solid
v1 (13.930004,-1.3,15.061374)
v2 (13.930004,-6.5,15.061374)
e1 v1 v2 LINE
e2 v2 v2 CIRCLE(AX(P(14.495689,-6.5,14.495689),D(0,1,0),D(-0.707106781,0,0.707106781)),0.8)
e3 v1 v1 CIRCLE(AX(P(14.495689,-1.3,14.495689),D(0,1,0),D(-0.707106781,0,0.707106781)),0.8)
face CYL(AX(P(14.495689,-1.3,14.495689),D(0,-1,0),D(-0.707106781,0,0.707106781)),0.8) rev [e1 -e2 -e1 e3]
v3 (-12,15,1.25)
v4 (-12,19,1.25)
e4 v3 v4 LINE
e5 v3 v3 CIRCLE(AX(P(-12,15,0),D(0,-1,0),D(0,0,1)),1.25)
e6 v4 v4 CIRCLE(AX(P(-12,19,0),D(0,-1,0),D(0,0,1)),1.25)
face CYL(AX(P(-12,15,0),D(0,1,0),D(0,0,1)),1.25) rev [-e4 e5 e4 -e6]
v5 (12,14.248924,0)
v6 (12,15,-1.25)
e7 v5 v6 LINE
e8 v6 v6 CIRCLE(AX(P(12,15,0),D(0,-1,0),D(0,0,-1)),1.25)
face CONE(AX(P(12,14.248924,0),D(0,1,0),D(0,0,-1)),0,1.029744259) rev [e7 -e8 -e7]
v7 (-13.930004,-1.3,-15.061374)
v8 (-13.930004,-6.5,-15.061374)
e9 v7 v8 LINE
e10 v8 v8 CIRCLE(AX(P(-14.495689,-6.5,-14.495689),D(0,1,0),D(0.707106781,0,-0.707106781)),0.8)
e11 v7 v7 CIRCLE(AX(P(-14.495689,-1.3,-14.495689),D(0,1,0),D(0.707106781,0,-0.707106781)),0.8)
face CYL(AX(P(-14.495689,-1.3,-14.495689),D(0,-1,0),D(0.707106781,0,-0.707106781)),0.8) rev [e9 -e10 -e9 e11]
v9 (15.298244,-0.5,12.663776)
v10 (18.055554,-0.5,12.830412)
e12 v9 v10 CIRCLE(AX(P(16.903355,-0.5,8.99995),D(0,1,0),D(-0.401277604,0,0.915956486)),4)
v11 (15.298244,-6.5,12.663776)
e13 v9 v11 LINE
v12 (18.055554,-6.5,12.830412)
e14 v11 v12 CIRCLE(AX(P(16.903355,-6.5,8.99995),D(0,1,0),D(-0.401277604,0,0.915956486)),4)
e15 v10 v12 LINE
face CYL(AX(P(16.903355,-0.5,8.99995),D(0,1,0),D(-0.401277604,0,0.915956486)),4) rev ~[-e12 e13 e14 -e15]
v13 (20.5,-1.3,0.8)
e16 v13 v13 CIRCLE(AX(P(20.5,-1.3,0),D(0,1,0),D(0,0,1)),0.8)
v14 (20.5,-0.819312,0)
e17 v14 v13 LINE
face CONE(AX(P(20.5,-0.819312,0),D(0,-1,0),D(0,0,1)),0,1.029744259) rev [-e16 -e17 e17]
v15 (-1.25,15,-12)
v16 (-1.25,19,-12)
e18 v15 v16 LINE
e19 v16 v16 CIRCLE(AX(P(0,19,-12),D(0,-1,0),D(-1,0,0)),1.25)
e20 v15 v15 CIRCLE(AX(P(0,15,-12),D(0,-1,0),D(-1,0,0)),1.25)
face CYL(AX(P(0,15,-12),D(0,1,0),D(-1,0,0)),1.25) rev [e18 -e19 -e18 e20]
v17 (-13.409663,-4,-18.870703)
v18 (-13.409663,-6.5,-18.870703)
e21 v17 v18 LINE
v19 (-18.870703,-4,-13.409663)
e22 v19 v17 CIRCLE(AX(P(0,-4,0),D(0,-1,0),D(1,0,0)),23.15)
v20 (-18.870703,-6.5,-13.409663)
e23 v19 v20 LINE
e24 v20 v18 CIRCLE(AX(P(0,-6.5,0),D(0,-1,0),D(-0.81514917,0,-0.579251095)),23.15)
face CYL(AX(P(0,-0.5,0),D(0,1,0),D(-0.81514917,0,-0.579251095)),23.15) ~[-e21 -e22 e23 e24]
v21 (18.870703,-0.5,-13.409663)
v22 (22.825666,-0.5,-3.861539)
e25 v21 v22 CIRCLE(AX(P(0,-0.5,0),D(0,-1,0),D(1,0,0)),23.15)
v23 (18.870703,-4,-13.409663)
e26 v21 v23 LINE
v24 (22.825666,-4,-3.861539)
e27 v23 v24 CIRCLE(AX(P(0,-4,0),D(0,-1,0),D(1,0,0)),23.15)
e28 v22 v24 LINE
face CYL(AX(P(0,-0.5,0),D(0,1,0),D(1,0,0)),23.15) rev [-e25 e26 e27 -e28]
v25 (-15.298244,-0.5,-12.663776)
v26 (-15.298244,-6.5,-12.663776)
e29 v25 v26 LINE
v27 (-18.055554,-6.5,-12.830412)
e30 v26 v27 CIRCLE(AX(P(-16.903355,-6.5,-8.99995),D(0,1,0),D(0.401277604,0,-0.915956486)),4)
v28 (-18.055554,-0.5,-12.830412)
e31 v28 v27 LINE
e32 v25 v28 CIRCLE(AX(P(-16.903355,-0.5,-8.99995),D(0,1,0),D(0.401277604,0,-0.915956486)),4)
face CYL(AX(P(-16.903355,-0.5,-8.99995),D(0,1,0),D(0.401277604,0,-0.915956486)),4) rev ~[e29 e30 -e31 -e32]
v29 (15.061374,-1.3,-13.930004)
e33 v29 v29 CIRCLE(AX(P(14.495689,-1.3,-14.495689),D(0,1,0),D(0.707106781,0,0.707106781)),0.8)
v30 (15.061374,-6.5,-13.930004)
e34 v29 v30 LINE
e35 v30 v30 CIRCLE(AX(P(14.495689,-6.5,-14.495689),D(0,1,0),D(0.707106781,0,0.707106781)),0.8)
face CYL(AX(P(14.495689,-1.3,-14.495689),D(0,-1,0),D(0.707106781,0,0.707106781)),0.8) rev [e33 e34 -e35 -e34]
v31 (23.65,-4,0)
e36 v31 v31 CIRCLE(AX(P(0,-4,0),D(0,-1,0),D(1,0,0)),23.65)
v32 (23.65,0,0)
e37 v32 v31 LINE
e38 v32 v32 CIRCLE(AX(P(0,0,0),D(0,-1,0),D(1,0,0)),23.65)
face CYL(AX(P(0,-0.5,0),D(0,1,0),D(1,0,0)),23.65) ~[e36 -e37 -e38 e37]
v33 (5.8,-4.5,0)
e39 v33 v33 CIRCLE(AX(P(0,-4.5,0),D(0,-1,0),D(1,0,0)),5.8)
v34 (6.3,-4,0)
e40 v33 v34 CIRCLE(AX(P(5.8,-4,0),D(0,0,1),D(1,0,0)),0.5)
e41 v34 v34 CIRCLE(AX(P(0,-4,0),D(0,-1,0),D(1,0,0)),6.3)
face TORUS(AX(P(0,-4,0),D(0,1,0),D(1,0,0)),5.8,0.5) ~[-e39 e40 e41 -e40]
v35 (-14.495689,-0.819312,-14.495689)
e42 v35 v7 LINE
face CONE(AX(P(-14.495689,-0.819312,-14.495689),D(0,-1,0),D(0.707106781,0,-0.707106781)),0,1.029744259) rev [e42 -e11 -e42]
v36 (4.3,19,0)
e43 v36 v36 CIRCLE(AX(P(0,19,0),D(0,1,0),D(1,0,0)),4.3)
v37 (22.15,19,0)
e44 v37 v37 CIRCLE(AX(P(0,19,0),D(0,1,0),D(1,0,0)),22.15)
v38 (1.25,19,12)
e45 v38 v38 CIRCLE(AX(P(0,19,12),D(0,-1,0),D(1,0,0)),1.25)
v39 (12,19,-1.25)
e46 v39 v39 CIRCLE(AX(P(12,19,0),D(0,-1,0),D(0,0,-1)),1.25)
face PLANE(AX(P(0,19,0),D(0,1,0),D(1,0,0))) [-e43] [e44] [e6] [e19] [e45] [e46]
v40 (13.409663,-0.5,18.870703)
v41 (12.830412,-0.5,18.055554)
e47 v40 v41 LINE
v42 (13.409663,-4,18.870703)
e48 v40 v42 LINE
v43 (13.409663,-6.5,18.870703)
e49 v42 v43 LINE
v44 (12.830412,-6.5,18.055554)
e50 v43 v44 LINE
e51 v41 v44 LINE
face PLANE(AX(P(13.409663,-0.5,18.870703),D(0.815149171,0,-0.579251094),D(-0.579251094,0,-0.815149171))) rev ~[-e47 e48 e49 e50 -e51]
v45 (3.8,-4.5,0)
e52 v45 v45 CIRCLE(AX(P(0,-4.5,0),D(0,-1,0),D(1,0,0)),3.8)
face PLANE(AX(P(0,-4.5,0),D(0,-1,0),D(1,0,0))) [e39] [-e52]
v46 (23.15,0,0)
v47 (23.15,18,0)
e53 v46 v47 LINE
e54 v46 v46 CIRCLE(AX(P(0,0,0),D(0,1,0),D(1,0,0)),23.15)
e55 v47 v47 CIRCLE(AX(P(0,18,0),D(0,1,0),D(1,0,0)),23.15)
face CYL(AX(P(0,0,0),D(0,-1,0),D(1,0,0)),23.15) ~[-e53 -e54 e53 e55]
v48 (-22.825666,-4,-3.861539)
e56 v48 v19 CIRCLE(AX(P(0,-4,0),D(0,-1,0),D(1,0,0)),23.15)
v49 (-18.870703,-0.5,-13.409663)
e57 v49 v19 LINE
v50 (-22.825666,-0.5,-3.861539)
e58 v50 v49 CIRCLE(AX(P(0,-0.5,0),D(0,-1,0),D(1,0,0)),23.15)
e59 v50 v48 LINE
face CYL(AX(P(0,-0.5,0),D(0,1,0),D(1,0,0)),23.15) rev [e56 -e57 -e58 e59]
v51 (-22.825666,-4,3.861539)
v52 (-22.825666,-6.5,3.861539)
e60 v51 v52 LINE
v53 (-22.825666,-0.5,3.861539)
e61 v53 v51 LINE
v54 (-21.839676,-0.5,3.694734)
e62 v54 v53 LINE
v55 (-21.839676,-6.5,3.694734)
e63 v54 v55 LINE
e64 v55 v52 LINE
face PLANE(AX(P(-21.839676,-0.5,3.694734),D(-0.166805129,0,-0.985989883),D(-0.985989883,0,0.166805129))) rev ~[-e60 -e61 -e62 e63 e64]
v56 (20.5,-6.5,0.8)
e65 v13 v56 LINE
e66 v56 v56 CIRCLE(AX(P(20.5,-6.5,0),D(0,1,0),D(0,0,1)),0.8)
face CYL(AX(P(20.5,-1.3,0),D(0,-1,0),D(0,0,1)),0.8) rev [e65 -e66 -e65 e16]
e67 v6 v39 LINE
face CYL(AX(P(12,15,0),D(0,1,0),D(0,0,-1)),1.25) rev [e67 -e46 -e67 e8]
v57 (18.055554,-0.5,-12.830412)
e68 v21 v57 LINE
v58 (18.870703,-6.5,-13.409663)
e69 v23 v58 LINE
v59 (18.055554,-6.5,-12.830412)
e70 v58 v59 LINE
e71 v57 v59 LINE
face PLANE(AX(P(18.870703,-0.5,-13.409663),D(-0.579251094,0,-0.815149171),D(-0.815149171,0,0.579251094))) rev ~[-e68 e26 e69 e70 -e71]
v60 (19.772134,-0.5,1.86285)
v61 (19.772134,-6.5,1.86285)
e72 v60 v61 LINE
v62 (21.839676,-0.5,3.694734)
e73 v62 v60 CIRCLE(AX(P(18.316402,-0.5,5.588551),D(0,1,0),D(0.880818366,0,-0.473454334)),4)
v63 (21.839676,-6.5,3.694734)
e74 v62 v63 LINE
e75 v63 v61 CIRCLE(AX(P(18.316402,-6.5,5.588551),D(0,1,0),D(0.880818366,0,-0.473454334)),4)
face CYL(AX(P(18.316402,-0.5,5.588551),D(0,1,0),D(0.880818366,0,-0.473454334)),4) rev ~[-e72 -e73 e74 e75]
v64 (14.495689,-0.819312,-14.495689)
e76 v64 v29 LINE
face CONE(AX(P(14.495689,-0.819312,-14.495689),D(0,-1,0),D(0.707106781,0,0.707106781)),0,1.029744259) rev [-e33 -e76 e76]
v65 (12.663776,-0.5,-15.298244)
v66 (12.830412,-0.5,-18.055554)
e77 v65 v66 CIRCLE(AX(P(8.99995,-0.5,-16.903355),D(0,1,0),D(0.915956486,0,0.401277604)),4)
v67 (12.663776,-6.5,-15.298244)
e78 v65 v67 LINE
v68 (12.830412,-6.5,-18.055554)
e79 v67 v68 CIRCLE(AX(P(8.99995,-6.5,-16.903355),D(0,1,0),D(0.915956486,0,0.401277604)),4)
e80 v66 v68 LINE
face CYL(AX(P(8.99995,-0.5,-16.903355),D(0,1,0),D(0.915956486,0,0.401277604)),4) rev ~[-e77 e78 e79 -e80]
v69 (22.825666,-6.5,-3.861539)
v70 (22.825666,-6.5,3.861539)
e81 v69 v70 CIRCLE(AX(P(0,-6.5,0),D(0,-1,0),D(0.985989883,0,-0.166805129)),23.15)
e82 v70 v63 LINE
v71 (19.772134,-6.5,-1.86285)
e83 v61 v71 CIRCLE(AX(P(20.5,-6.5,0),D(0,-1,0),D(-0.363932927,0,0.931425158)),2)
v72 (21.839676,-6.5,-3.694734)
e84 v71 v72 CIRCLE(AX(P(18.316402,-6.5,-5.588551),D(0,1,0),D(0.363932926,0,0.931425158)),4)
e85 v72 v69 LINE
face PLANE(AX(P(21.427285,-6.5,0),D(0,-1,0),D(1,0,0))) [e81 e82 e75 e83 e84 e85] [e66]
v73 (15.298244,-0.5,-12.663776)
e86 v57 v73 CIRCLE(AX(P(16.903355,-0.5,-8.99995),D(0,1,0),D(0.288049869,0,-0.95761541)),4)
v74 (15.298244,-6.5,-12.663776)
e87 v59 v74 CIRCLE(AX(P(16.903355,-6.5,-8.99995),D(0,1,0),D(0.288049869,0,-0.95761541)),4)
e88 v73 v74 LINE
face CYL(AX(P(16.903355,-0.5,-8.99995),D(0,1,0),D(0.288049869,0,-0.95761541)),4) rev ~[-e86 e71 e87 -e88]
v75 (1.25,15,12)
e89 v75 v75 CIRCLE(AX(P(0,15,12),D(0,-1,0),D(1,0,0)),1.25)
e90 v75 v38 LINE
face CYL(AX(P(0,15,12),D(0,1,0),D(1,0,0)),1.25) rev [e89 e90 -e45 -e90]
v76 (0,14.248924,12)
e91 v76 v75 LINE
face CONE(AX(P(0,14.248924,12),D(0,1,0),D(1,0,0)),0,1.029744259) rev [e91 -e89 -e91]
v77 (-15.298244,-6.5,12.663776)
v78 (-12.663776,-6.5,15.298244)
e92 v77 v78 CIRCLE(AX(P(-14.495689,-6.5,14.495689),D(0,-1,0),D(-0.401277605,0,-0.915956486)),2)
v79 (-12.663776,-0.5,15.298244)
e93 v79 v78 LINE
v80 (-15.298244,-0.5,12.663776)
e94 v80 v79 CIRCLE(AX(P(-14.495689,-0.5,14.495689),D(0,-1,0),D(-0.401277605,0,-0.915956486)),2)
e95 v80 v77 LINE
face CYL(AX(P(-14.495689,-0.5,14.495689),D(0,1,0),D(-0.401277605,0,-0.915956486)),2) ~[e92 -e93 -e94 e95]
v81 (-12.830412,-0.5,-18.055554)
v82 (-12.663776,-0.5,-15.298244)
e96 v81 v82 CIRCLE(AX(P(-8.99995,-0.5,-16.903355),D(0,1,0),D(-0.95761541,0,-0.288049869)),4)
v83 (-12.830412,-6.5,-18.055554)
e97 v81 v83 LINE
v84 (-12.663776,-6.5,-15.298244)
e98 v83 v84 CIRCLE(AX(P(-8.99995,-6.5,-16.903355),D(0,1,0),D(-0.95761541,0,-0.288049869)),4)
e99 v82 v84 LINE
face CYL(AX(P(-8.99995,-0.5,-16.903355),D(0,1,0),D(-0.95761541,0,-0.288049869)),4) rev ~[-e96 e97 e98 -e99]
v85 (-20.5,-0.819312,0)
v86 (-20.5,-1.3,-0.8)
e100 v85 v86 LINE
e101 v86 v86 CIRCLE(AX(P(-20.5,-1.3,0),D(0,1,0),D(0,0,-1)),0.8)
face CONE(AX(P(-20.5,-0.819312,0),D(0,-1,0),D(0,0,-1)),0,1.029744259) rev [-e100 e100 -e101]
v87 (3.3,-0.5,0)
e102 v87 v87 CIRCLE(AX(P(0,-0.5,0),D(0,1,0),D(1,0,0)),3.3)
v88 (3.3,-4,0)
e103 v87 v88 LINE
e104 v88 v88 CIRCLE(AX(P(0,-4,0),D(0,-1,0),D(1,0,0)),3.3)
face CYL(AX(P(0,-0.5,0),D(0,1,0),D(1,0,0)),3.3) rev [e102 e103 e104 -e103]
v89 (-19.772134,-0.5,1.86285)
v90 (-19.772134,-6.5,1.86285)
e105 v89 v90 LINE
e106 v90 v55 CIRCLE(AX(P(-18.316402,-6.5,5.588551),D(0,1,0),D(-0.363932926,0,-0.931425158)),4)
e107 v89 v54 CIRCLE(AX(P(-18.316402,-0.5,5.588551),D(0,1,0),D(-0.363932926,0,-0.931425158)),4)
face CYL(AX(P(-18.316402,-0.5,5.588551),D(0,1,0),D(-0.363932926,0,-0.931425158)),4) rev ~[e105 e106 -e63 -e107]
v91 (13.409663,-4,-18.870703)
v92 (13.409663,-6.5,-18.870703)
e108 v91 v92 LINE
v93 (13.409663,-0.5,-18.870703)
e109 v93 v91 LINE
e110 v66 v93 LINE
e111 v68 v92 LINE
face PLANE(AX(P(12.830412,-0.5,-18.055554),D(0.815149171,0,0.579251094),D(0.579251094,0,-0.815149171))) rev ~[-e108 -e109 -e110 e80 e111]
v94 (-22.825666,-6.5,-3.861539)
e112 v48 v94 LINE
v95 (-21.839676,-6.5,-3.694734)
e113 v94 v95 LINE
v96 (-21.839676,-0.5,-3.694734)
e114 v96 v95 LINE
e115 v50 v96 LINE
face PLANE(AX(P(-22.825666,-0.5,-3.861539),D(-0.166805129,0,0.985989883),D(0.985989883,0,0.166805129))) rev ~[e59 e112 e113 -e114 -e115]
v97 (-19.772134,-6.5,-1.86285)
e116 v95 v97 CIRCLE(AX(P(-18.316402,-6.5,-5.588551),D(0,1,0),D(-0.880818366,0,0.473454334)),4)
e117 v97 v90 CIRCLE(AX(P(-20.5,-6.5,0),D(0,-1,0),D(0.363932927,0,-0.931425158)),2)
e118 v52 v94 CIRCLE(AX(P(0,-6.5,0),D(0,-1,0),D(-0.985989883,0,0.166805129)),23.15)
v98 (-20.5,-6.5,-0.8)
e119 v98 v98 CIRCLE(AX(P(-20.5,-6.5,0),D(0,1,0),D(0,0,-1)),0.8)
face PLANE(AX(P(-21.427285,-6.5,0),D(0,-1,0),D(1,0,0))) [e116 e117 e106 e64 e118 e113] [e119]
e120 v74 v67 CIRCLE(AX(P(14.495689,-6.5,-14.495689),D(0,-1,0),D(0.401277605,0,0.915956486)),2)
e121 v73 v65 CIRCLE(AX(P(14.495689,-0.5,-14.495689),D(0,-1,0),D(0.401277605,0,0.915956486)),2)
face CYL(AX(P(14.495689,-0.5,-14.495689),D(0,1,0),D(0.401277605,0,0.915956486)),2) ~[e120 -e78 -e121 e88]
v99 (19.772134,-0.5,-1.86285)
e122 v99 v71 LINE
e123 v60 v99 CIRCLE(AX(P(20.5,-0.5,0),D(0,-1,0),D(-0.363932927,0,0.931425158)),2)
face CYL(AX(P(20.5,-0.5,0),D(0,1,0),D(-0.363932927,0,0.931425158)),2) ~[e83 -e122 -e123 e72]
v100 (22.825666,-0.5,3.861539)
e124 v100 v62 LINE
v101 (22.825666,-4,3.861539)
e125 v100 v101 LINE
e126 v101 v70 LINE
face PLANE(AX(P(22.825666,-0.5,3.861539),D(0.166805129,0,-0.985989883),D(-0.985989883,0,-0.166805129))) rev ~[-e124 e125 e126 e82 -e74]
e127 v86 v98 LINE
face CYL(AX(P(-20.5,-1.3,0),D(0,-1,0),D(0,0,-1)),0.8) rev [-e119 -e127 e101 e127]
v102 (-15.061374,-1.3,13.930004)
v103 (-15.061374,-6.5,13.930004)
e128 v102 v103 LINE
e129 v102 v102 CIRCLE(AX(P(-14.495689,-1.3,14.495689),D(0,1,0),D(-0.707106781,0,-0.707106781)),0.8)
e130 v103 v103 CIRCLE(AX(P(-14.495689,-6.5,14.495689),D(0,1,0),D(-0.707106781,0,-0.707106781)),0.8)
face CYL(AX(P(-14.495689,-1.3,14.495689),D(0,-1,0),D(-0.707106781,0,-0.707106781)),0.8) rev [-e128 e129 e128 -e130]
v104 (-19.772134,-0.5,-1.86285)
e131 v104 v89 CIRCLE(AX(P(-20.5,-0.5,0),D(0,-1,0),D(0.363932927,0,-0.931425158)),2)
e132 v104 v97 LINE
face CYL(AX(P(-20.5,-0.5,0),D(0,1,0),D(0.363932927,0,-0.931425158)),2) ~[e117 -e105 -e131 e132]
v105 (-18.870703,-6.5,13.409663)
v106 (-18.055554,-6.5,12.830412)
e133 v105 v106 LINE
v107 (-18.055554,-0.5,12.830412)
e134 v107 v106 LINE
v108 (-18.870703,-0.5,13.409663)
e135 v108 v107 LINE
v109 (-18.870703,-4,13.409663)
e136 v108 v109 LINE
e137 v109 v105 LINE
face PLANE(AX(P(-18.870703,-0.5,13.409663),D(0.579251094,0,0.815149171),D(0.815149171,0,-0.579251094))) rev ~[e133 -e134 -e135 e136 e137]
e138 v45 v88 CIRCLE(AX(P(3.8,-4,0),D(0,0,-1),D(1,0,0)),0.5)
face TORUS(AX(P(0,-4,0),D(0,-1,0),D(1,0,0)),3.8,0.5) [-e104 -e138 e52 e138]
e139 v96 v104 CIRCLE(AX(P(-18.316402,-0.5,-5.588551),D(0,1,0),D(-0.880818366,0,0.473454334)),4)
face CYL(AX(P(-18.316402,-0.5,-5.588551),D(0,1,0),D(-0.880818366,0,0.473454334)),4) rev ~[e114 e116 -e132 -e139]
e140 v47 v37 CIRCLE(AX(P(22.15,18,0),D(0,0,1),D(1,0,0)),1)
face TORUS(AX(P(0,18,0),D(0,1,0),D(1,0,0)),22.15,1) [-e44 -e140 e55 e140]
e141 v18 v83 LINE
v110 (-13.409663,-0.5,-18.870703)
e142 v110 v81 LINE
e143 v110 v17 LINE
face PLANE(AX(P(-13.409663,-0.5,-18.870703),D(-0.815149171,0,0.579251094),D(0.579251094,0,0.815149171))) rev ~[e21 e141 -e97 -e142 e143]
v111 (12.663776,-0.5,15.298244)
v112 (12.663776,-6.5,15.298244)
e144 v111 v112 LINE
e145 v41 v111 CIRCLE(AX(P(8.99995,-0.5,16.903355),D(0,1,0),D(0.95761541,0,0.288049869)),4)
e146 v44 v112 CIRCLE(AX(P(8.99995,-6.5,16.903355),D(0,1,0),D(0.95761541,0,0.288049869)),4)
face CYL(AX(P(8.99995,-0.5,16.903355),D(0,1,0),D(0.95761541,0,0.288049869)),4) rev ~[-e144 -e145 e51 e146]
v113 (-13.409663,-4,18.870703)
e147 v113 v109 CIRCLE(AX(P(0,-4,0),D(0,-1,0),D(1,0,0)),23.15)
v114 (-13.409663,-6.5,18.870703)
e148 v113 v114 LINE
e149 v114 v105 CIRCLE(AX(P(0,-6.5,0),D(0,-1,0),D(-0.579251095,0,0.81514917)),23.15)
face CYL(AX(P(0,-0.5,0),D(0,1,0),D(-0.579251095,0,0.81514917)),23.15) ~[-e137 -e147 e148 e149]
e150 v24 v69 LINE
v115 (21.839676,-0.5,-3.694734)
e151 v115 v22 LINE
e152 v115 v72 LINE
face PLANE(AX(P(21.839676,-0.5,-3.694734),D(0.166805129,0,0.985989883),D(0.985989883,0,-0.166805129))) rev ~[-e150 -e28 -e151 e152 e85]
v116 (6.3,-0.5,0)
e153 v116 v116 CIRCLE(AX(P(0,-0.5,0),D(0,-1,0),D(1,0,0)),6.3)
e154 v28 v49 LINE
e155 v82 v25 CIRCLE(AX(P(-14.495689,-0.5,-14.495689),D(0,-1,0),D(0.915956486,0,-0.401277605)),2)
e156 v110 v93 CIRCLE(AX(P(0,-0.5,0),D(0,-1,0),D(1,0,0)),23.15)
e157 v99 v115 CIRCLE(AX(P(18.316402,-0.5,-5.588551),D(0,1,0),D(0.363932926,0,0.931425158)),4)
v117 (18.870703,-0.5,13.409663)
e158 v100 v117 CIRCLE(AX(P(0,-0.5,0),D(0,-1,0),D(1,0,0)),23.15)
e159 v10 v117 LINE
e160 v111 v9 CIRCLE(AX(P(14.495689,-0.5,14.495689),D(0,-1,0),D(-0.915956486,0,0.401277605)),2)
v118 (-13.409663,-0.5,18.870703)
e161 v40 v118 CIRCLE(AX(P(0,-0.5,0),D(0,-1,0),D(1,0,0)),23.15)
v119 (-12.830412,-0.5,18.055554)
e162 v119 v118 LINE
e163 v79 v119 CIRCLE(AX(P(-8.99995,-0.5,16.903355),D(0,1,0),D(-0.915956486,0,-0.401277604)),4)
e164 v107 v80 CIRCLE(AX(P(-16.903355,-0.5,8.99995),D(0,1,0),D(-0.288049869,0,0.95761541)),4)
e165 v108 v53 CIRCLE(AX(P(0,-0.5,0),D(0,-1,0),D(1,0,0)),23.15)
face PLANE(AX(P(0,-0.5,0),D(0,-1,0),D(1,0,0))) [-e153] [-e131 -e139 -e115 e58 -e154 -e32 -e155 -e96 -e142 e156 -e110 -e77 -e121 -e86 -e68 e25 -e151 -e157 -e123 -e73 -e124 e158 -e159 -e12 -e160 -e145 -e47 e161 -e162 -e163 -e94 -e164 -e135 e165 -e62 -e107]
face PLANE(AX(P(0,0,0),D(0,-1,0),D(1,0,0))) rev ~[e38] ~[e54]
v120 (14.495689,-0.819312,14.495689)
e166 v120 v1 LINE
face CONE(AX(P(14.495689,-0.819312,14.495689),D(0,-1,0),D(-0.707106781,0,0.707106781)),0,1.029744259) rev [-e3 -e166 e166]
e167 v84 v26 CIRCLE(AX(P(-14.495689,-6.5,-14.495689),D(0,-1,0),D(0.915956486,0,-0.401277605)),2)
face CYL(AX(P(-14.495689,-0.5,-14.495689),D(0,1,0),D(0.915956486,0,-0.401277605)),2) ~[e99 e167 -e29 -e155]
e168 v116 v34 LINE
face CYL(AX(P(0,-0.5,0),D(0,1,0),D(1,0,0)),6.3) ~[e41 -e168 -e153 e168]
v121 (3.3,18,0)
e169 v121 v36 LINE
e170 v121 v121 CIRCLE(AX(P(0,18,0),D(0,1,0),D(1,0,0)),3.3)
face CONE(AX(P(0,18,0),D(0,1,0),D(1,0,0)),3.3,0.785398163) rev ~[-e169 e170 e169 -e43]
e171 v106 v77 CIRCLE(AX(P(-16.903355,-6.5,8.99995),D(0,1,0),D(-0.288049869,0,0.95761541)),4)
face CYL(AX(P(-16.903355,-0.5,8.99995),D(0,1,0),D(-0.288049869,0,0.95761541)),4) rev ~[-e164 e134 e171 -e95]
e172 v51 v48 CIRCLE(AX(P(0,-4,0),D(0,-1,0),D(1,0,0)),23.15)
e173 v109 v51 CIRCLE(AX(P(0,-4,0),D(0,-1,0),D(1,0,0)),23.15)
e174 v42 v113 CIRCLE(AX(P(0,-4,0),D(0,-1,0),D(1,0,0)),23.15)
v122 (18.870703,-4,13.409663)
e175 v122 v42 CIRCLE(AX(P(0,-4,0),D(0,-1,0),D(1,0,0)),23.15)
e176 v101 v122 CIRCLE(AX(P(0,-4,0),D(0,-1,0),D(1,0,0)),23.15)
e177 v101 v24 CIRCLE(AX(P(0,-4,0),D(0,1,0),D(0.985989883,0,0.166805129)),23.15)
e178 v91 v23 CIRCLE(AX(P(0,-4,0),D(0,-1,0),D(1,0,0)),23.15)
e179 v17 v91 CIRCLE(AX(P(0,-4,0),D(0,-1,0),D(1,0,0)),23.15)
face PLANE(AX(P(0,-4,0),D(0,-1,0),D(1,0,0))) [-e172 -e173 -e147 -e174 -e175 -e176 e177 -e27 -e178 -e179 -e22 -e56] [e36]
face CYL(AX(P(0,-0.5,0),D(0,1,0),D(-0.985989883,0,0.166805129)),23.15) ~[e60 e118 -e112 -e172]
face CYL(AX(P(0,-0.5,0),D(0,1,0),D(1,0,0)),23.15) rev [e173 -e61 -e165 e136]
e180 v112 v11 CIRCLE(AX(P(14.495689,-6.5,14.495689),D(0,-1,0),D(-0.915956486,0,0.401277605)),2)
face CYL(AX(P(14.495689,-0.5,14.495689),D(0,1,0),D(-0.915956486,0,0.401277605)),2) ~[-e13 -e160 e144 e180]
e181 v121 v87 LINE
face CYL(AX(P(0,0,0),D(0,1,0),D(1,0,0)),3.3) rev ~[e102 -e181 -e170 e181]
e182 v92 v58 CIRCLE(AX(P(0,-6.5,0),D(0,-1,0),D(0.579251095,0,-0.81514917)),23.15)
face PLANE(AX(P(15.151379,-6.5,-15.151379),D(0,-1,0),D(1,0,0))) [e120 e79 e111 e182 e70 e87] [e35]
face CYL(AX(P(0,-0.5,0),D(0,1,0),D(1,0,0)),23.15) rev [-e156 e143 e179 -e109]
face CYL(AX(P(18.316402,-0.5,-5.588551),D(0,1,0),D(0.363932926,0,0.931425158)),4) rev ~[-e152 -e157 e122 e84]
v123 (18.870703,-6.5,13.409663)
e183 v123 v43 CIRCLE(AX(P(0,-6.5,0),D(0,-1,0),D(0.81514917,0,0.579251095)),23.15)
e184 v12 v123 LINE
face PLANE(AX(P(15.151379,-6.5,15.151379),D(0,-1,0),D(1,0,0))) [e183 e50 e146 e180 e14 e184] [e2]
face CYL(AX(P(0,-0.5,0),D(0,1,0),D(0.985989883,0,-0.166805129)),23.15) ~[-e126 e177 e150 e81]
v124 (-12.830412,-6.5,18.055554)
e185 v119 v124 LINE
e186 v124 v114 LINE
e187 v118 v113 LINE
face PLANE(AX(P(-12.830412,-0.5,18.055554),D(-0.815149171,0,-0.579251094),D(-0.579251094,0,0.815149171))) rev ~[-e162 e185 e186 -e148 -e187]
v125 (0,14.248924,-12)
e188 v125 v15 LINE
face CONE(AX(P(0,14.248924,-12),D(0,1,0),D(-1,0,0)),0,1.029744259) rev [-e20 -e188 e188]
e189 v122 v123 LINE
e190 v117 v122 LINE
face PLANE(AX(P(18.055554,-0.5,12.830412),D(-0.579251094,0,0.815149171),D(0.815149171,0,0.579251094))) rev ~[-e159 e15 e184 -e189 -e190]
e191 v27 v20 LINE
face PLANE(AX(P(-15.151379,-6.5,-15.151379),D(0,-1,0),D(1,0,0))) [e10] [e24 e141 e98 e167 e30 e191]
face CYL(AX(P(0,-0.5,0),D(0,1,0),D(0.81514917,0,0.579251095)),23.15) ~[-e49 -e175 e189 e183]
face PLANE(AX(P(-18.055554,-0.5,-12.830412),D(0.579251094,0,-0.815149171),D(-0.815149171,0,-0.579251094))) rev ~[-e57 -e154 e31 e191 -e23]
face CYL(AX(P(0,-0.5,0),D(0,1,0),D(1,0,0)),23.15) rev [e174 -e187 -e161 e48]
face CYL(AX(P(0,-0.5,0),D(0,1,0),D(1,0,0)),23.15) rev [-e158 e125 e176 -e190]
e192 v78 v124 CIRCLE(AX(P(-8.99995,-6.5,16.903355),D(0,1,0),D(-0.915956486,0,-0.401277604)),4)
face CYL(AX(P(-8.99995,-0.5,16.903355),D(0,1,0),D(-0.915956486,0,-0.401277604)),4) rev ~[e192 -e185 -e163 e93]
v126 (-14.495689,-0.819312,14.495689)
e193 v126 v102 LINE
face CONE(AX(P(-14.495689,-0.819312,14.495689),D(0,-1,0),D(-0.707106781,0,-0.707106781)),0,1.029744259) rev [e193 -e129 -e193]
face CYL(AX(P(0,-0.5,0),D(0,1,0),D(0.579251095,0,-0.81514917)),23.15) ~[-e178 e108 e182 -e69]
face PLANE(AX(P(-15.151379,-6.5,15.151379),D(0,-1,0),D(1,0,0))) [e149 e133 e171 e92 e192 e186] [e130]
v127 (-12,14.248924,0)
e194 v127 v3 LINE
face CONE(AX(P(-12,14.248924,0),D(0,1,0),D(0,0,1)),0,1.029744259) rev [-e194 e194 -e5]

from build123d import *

# Parameters (mm, degrees)
SKETCH_1_R               = 23.15
EXTRUDE_1_DEPTH          = 19
SKETCH_2_R               = 3.3
CUT_EXTRUDE_1_DEPTH      = 1
CUT_EXTRUDE_1_DEPTH_BACK = 20
PATTERN_CIRCULAR_1_COUNT = 4
FILLET_1_R               = 1
SKETCH_6_R               = 23.65
EXTRUDE_2_DEPTH          = 0.5
SKETCH_7_R               = 23.65
SKETCH_7_R_2             = 23.15
EXTRUDE_1_2_DEPTH        = 3.5
EXTRUDE_5_DEPTH          = 6
PATTERN_CIRCULAR_3_COUNT = 8
SKETCH_18_R              = 3.3
CUT_EXTRUDE_2_DEPTH      = 7.5
SKETCH_19_R              = 6.3
SKETCH_19_R_2            = 3.3
EXTRUDE_6_DEPTH          = 4
CHAMFER_1_SIZE           = 1
FILLET_3_R               = 0.5
FILLET_4_R               = 0.5


with BuildPart() as part:
    # Sketch 1 → Extrude 1 (new body)
    with BuildSketch(Plane(origin=(0, 0, 0), x_dir=(1, 0, 0), z_dir=(0, 1, 0))):
        Circle(SKETCH_1_R)
    extrude(amount=EXTRUDE_1_DEPTH)

    # Sketch 5 → Hole Wizard M3 _1 (revolve, cut)
    with BuildSketch(Plane(origin=(-12, 19, 0), x_dir=(0, 0, 1), z_dir=(1, 0, 0))):
        Polygon((0, 0), (0, 4.751075774), (1.25, 4), (1.25, 0), align=None)
    hole_wizard_m3_1 = revolve(axis=Axis((-12, 25.35, 0), (0, -1, 0)), mode=Mode.SUBTRACT)

    # Sketch 2 → Cut-Extrude 1 (cut, two sides)
    with BuildSketch(Plane(origin=(0, 19, 0), x_dir=(1, 0, 0), z_dir=(0, 1, 0))) as cut_extrude_1_sk:
        Circle(SKETCH_2_R)
    extrude(amount=CUT_EXTRUDE_1_DEPTH, mode=Mode.SUBTRACT)
    extrude(cut_extrude_1_sk.sketch, amount=-CUT_EXTRUDE_1_DEPTH_BACK, mode=Mode.SUBTRACT)

    # Pattern Circular 1: Hole Wizard M3 _1 ×4 about axis
    pattern_circular_1_axis = Axis((0, 0, 0), (0, 1, 0))
    for i in range(1, PATTERN_CIRCULAR_1_COUNT):
        add(hole_wizard_m3_1.rotate(pattern_circular_1_axis, i * 360 / PATTERN_CIRCULAR_1_COUNT), mode=Mode.SUBTRACT)

    # Fillet 1
    fillet_1_edges = [part.edges().sort_by_distance(p)[0] for p in [
        (-23.15, 19, 0),
    ]]
    fillet(fillet_1_edges, radius=FILLET_1_R)

    # Sketch 6 → Extrude 2 (add)
    with BuildSketch(Plane.XZ):
        Circle(SKETCH_6_R)
    extrude(amount=EXTRUDE_2_DEPTH)

    # Sketch 7 → Extrude 1 2 (add)
    with BuildSketch(Plane.XZ.offset(0.5)):
        Circle(SKETCH_7_R)
        Circle(SKETCH_7_R_2, mode=Mode.SUBTRACT)
    extrude(amount=EXTRUDE_1_2_DEPTH)

    # Sketch 8 → Extrude 5 (add)
    with BuildSketch(Plane.XZ.offset(0.5)):
        with BuildLine():
            Line((-21.839675903, 3.694733612), (-22.825665785, 3.861538741))
            ThreePointArc((-22.825665785, 3.861538741), (-23.15, 0), (-22.825665785, -3.861538741))
            Line((-22.825665785, -3.861538741), (-21.839675903, -3.694733612))
            ThreePointArc((-21.839675903, -3.694733612), (-20.969056247, -2.594652523), (-19.772134146, -1.862850316))
            ThreePointArc((-19.772134146, -1.862850316), (-18.5, 0), (-19.772134146, 1.862850316))
            ThreePointArc((-19.772134146, 1.862850316), (-20.969056247, 2.594652523), (-21.839675903, 3.694733612))
        make_face()
        with BuildLine():
            ThreePointArc((-13.409662832, 18.870703292), (-16.369521984, 16.369521984), (-18.870703292, 13.409662832))
            Line((-18.870703292, 13.409662832), (-18.055554121, 12.830411738))
            ThreePointArc((-18.055554121, 12.830411738), (-16.662058262, 12.992665473), (-15.298244224, 12.663776043))
            ThreePointArc((-15.298244224, 12.663776043), (-13.081475452, 13.081475452), (-12.663776043, 15.298244224))
            ThreePointArc((-12.663776043, 15.298244224), (-12.992665473, 16.662058262), (-12.830411738, 18.055554121))
            Line((-12.830411738, 18.055554121), (-13.409662832, 18.870703292))
        make_face()
        with BuildLine():
            Line((-18.055554121, -12.830411738), (-18.870703292, -13.409662832))
            ThreePointArc((-18.870703292, -13.409662832), (-16.369521984, -16.369521984), (-13.409662832, -18.870703292))
            Line((-13.409662832, -18.870703292), (-12.830411738, -18.055554121))
            ThreePointArc((-12.830411738, -18.055554121), (-12.992665473, -16.662058261), (-12.663776043, -15.298244224))
            ThreePointArc((-12.663776043, -15.298244224), (-13.081475452, -13.081475452), (-15.298244224, -12.663776043))
            ThreePointArc((-15.298244224, -12.663776043), (-16.662058261, -12.992665473), (-18.055554121, -12.830411738))
        make_face()
        with BuildLine():
            ThreePointArc((18.870703292, 13.409662832), (16.369521984, 16.369521984), (13.409662832, 18.870703292))
            Line((13.409662832, 18.870703292), (12.830411738, 18.055554121))
            ThreePointArc((12.830411738, 18.055554121), (12.992665473, 16.662058262), (12.663776043, 15.298244224))
            ThreePointArc((12.663776043, 15.298244224), (13.081475452, 13.081475452), (15.298244224, 12.663776043))
            ThreePointArc((15.298244224, 12.663776043), (16.662058261, 12.992665473), (18.055554121, 12.830411738))
            Line((18.055554121, 12.830411738), (18.870703292, 13.409662832))
        make_face()
        with BuildLine():
            Line((12.830411738, -18.055554121), (13.409662832, -18.870703292))
            ThreePointArc((13.409662832, -18.870703292), (16.369521984, -16.369521984), (18.870703292, -13.409662832))
            Line((18.870703292, -13.409662832), (18.055554121, -12.830411738))
            ThreePointArc((18.055554121, -12.830411738), (16.662058262, -12.992665473), (15.298244224, -12.663776043))
            ThreePointArc((15.298244224, -12.663776043), (13.081475452, -13.081475452), (12.663776043, -15.298244224))
            ThreePointArc((12.663776043, -15.298244224), (12.992665473, -16.662058261), (12.830411738, -18.055554121))
        make_face()
        with BuildLine():
            ThreePointArc((22.825665785, -3.861538741), (23.15, 0), (22.825665785, 3.861538741))
            Line((22.825665785, 3.861538741), (21.839675903, 3.694733612))
            ThreePointArc((21.839675903, 3.694733612), (20.969056247, 2.594652523), (19.772134146, 1.862850316))
            ThreePointArc((19.772134146, 1.862850316), (18.5, 0), (19.772134146, -1.862850316))
            ThreePointArc((19.772134146, -1.862850316), (20.969056247, -2.594652523), (21.839675903, -3.694733612))
            Line((21.839675903, -3.694733612), (22.825665785, -3.861538741))
        make_face()
    extrude(amount=EXTRUDE_5_DEPTH)

    # Sketch 17 → Hole Wizard M2 _1 (revolve, cut)
    with BuildSketch(Plane(origin=(-20.5, -6.5, 0), x_dir=(0, 0, -1), z_dir=(1, 0, 0))):
        Polygon((0, 0), (0, 5.680688495), (0.8, 5.2), (0.8, 0), align=None)
    hole_wizard_m2_1 = revolve(axis=Axis((-20.5, -12.85, 0), (0, 1, 0)), mode=Mode.SUBTRACT)

    # Pattern Circular 3: Hole Wizard M2 _1 ×8 about axis, 1 skipped
    pattern_circular_3_axis = Axis((0, 0, 0), (0, 1, 0))
    add([hole_wizard_m2_1.rotate(pattern_circular_3_axis, i * 360 / PATTERN_CIRCULAR_3_COUNT) for i in range(1, PATTERN_CIRCULAR_3_COUNT) if i not in (2,)], mode=Mode.SUBTRACT)

    # Sketch 18 → Cut-Extrude 2 (cut, through all)
    with BuildSketch(Plane(origin=(0, 0, 0), x_dir=(1, 0, 0), z_dir=(0, 1, 0))):
        Circle(SKETCH_18_R)
    extrude(amount=-CUT_EXTRUDE_2_DEPTH, mode=Mode.SUBTRACT)

    # Sketch 19 → Extrude 6 (add)
    with BuildSketch(Plane.XZ.offset(0.5)):
        Circle(SKETCH_19_R)
        Circle(SKETCH_19_R_2, mode=Mode.SUBTRACT)
    extrude(amount=EXTRUDE_6_DEPTH)

    # Chamfer 1
    chamfer_1_edges = [part.edges().sort_by_distance(p)[0] for p in [
        (-3.3, 19, 0),
    ]]
    chamfer(chamfer_1_edges, length=CHAMFER_1_SIZE)

    # Fillet 3
    fillet_3_edges = [part.edges().sort_by_distance(p)[0] for p in [
        (-6.3, -4.5, 0),
    ]]
    fillet(fillet_3_edges, radius=FILLET_3_R)

    # Fillet 4
    fillet_4_edges = [part.edges().sort_by_distance(p)[0] for p in [
        (-3.3, -4.5, 0),
    ]]
    fillet(fillet_4_edges, radius=FILLET_4_R)


solid = part.part
